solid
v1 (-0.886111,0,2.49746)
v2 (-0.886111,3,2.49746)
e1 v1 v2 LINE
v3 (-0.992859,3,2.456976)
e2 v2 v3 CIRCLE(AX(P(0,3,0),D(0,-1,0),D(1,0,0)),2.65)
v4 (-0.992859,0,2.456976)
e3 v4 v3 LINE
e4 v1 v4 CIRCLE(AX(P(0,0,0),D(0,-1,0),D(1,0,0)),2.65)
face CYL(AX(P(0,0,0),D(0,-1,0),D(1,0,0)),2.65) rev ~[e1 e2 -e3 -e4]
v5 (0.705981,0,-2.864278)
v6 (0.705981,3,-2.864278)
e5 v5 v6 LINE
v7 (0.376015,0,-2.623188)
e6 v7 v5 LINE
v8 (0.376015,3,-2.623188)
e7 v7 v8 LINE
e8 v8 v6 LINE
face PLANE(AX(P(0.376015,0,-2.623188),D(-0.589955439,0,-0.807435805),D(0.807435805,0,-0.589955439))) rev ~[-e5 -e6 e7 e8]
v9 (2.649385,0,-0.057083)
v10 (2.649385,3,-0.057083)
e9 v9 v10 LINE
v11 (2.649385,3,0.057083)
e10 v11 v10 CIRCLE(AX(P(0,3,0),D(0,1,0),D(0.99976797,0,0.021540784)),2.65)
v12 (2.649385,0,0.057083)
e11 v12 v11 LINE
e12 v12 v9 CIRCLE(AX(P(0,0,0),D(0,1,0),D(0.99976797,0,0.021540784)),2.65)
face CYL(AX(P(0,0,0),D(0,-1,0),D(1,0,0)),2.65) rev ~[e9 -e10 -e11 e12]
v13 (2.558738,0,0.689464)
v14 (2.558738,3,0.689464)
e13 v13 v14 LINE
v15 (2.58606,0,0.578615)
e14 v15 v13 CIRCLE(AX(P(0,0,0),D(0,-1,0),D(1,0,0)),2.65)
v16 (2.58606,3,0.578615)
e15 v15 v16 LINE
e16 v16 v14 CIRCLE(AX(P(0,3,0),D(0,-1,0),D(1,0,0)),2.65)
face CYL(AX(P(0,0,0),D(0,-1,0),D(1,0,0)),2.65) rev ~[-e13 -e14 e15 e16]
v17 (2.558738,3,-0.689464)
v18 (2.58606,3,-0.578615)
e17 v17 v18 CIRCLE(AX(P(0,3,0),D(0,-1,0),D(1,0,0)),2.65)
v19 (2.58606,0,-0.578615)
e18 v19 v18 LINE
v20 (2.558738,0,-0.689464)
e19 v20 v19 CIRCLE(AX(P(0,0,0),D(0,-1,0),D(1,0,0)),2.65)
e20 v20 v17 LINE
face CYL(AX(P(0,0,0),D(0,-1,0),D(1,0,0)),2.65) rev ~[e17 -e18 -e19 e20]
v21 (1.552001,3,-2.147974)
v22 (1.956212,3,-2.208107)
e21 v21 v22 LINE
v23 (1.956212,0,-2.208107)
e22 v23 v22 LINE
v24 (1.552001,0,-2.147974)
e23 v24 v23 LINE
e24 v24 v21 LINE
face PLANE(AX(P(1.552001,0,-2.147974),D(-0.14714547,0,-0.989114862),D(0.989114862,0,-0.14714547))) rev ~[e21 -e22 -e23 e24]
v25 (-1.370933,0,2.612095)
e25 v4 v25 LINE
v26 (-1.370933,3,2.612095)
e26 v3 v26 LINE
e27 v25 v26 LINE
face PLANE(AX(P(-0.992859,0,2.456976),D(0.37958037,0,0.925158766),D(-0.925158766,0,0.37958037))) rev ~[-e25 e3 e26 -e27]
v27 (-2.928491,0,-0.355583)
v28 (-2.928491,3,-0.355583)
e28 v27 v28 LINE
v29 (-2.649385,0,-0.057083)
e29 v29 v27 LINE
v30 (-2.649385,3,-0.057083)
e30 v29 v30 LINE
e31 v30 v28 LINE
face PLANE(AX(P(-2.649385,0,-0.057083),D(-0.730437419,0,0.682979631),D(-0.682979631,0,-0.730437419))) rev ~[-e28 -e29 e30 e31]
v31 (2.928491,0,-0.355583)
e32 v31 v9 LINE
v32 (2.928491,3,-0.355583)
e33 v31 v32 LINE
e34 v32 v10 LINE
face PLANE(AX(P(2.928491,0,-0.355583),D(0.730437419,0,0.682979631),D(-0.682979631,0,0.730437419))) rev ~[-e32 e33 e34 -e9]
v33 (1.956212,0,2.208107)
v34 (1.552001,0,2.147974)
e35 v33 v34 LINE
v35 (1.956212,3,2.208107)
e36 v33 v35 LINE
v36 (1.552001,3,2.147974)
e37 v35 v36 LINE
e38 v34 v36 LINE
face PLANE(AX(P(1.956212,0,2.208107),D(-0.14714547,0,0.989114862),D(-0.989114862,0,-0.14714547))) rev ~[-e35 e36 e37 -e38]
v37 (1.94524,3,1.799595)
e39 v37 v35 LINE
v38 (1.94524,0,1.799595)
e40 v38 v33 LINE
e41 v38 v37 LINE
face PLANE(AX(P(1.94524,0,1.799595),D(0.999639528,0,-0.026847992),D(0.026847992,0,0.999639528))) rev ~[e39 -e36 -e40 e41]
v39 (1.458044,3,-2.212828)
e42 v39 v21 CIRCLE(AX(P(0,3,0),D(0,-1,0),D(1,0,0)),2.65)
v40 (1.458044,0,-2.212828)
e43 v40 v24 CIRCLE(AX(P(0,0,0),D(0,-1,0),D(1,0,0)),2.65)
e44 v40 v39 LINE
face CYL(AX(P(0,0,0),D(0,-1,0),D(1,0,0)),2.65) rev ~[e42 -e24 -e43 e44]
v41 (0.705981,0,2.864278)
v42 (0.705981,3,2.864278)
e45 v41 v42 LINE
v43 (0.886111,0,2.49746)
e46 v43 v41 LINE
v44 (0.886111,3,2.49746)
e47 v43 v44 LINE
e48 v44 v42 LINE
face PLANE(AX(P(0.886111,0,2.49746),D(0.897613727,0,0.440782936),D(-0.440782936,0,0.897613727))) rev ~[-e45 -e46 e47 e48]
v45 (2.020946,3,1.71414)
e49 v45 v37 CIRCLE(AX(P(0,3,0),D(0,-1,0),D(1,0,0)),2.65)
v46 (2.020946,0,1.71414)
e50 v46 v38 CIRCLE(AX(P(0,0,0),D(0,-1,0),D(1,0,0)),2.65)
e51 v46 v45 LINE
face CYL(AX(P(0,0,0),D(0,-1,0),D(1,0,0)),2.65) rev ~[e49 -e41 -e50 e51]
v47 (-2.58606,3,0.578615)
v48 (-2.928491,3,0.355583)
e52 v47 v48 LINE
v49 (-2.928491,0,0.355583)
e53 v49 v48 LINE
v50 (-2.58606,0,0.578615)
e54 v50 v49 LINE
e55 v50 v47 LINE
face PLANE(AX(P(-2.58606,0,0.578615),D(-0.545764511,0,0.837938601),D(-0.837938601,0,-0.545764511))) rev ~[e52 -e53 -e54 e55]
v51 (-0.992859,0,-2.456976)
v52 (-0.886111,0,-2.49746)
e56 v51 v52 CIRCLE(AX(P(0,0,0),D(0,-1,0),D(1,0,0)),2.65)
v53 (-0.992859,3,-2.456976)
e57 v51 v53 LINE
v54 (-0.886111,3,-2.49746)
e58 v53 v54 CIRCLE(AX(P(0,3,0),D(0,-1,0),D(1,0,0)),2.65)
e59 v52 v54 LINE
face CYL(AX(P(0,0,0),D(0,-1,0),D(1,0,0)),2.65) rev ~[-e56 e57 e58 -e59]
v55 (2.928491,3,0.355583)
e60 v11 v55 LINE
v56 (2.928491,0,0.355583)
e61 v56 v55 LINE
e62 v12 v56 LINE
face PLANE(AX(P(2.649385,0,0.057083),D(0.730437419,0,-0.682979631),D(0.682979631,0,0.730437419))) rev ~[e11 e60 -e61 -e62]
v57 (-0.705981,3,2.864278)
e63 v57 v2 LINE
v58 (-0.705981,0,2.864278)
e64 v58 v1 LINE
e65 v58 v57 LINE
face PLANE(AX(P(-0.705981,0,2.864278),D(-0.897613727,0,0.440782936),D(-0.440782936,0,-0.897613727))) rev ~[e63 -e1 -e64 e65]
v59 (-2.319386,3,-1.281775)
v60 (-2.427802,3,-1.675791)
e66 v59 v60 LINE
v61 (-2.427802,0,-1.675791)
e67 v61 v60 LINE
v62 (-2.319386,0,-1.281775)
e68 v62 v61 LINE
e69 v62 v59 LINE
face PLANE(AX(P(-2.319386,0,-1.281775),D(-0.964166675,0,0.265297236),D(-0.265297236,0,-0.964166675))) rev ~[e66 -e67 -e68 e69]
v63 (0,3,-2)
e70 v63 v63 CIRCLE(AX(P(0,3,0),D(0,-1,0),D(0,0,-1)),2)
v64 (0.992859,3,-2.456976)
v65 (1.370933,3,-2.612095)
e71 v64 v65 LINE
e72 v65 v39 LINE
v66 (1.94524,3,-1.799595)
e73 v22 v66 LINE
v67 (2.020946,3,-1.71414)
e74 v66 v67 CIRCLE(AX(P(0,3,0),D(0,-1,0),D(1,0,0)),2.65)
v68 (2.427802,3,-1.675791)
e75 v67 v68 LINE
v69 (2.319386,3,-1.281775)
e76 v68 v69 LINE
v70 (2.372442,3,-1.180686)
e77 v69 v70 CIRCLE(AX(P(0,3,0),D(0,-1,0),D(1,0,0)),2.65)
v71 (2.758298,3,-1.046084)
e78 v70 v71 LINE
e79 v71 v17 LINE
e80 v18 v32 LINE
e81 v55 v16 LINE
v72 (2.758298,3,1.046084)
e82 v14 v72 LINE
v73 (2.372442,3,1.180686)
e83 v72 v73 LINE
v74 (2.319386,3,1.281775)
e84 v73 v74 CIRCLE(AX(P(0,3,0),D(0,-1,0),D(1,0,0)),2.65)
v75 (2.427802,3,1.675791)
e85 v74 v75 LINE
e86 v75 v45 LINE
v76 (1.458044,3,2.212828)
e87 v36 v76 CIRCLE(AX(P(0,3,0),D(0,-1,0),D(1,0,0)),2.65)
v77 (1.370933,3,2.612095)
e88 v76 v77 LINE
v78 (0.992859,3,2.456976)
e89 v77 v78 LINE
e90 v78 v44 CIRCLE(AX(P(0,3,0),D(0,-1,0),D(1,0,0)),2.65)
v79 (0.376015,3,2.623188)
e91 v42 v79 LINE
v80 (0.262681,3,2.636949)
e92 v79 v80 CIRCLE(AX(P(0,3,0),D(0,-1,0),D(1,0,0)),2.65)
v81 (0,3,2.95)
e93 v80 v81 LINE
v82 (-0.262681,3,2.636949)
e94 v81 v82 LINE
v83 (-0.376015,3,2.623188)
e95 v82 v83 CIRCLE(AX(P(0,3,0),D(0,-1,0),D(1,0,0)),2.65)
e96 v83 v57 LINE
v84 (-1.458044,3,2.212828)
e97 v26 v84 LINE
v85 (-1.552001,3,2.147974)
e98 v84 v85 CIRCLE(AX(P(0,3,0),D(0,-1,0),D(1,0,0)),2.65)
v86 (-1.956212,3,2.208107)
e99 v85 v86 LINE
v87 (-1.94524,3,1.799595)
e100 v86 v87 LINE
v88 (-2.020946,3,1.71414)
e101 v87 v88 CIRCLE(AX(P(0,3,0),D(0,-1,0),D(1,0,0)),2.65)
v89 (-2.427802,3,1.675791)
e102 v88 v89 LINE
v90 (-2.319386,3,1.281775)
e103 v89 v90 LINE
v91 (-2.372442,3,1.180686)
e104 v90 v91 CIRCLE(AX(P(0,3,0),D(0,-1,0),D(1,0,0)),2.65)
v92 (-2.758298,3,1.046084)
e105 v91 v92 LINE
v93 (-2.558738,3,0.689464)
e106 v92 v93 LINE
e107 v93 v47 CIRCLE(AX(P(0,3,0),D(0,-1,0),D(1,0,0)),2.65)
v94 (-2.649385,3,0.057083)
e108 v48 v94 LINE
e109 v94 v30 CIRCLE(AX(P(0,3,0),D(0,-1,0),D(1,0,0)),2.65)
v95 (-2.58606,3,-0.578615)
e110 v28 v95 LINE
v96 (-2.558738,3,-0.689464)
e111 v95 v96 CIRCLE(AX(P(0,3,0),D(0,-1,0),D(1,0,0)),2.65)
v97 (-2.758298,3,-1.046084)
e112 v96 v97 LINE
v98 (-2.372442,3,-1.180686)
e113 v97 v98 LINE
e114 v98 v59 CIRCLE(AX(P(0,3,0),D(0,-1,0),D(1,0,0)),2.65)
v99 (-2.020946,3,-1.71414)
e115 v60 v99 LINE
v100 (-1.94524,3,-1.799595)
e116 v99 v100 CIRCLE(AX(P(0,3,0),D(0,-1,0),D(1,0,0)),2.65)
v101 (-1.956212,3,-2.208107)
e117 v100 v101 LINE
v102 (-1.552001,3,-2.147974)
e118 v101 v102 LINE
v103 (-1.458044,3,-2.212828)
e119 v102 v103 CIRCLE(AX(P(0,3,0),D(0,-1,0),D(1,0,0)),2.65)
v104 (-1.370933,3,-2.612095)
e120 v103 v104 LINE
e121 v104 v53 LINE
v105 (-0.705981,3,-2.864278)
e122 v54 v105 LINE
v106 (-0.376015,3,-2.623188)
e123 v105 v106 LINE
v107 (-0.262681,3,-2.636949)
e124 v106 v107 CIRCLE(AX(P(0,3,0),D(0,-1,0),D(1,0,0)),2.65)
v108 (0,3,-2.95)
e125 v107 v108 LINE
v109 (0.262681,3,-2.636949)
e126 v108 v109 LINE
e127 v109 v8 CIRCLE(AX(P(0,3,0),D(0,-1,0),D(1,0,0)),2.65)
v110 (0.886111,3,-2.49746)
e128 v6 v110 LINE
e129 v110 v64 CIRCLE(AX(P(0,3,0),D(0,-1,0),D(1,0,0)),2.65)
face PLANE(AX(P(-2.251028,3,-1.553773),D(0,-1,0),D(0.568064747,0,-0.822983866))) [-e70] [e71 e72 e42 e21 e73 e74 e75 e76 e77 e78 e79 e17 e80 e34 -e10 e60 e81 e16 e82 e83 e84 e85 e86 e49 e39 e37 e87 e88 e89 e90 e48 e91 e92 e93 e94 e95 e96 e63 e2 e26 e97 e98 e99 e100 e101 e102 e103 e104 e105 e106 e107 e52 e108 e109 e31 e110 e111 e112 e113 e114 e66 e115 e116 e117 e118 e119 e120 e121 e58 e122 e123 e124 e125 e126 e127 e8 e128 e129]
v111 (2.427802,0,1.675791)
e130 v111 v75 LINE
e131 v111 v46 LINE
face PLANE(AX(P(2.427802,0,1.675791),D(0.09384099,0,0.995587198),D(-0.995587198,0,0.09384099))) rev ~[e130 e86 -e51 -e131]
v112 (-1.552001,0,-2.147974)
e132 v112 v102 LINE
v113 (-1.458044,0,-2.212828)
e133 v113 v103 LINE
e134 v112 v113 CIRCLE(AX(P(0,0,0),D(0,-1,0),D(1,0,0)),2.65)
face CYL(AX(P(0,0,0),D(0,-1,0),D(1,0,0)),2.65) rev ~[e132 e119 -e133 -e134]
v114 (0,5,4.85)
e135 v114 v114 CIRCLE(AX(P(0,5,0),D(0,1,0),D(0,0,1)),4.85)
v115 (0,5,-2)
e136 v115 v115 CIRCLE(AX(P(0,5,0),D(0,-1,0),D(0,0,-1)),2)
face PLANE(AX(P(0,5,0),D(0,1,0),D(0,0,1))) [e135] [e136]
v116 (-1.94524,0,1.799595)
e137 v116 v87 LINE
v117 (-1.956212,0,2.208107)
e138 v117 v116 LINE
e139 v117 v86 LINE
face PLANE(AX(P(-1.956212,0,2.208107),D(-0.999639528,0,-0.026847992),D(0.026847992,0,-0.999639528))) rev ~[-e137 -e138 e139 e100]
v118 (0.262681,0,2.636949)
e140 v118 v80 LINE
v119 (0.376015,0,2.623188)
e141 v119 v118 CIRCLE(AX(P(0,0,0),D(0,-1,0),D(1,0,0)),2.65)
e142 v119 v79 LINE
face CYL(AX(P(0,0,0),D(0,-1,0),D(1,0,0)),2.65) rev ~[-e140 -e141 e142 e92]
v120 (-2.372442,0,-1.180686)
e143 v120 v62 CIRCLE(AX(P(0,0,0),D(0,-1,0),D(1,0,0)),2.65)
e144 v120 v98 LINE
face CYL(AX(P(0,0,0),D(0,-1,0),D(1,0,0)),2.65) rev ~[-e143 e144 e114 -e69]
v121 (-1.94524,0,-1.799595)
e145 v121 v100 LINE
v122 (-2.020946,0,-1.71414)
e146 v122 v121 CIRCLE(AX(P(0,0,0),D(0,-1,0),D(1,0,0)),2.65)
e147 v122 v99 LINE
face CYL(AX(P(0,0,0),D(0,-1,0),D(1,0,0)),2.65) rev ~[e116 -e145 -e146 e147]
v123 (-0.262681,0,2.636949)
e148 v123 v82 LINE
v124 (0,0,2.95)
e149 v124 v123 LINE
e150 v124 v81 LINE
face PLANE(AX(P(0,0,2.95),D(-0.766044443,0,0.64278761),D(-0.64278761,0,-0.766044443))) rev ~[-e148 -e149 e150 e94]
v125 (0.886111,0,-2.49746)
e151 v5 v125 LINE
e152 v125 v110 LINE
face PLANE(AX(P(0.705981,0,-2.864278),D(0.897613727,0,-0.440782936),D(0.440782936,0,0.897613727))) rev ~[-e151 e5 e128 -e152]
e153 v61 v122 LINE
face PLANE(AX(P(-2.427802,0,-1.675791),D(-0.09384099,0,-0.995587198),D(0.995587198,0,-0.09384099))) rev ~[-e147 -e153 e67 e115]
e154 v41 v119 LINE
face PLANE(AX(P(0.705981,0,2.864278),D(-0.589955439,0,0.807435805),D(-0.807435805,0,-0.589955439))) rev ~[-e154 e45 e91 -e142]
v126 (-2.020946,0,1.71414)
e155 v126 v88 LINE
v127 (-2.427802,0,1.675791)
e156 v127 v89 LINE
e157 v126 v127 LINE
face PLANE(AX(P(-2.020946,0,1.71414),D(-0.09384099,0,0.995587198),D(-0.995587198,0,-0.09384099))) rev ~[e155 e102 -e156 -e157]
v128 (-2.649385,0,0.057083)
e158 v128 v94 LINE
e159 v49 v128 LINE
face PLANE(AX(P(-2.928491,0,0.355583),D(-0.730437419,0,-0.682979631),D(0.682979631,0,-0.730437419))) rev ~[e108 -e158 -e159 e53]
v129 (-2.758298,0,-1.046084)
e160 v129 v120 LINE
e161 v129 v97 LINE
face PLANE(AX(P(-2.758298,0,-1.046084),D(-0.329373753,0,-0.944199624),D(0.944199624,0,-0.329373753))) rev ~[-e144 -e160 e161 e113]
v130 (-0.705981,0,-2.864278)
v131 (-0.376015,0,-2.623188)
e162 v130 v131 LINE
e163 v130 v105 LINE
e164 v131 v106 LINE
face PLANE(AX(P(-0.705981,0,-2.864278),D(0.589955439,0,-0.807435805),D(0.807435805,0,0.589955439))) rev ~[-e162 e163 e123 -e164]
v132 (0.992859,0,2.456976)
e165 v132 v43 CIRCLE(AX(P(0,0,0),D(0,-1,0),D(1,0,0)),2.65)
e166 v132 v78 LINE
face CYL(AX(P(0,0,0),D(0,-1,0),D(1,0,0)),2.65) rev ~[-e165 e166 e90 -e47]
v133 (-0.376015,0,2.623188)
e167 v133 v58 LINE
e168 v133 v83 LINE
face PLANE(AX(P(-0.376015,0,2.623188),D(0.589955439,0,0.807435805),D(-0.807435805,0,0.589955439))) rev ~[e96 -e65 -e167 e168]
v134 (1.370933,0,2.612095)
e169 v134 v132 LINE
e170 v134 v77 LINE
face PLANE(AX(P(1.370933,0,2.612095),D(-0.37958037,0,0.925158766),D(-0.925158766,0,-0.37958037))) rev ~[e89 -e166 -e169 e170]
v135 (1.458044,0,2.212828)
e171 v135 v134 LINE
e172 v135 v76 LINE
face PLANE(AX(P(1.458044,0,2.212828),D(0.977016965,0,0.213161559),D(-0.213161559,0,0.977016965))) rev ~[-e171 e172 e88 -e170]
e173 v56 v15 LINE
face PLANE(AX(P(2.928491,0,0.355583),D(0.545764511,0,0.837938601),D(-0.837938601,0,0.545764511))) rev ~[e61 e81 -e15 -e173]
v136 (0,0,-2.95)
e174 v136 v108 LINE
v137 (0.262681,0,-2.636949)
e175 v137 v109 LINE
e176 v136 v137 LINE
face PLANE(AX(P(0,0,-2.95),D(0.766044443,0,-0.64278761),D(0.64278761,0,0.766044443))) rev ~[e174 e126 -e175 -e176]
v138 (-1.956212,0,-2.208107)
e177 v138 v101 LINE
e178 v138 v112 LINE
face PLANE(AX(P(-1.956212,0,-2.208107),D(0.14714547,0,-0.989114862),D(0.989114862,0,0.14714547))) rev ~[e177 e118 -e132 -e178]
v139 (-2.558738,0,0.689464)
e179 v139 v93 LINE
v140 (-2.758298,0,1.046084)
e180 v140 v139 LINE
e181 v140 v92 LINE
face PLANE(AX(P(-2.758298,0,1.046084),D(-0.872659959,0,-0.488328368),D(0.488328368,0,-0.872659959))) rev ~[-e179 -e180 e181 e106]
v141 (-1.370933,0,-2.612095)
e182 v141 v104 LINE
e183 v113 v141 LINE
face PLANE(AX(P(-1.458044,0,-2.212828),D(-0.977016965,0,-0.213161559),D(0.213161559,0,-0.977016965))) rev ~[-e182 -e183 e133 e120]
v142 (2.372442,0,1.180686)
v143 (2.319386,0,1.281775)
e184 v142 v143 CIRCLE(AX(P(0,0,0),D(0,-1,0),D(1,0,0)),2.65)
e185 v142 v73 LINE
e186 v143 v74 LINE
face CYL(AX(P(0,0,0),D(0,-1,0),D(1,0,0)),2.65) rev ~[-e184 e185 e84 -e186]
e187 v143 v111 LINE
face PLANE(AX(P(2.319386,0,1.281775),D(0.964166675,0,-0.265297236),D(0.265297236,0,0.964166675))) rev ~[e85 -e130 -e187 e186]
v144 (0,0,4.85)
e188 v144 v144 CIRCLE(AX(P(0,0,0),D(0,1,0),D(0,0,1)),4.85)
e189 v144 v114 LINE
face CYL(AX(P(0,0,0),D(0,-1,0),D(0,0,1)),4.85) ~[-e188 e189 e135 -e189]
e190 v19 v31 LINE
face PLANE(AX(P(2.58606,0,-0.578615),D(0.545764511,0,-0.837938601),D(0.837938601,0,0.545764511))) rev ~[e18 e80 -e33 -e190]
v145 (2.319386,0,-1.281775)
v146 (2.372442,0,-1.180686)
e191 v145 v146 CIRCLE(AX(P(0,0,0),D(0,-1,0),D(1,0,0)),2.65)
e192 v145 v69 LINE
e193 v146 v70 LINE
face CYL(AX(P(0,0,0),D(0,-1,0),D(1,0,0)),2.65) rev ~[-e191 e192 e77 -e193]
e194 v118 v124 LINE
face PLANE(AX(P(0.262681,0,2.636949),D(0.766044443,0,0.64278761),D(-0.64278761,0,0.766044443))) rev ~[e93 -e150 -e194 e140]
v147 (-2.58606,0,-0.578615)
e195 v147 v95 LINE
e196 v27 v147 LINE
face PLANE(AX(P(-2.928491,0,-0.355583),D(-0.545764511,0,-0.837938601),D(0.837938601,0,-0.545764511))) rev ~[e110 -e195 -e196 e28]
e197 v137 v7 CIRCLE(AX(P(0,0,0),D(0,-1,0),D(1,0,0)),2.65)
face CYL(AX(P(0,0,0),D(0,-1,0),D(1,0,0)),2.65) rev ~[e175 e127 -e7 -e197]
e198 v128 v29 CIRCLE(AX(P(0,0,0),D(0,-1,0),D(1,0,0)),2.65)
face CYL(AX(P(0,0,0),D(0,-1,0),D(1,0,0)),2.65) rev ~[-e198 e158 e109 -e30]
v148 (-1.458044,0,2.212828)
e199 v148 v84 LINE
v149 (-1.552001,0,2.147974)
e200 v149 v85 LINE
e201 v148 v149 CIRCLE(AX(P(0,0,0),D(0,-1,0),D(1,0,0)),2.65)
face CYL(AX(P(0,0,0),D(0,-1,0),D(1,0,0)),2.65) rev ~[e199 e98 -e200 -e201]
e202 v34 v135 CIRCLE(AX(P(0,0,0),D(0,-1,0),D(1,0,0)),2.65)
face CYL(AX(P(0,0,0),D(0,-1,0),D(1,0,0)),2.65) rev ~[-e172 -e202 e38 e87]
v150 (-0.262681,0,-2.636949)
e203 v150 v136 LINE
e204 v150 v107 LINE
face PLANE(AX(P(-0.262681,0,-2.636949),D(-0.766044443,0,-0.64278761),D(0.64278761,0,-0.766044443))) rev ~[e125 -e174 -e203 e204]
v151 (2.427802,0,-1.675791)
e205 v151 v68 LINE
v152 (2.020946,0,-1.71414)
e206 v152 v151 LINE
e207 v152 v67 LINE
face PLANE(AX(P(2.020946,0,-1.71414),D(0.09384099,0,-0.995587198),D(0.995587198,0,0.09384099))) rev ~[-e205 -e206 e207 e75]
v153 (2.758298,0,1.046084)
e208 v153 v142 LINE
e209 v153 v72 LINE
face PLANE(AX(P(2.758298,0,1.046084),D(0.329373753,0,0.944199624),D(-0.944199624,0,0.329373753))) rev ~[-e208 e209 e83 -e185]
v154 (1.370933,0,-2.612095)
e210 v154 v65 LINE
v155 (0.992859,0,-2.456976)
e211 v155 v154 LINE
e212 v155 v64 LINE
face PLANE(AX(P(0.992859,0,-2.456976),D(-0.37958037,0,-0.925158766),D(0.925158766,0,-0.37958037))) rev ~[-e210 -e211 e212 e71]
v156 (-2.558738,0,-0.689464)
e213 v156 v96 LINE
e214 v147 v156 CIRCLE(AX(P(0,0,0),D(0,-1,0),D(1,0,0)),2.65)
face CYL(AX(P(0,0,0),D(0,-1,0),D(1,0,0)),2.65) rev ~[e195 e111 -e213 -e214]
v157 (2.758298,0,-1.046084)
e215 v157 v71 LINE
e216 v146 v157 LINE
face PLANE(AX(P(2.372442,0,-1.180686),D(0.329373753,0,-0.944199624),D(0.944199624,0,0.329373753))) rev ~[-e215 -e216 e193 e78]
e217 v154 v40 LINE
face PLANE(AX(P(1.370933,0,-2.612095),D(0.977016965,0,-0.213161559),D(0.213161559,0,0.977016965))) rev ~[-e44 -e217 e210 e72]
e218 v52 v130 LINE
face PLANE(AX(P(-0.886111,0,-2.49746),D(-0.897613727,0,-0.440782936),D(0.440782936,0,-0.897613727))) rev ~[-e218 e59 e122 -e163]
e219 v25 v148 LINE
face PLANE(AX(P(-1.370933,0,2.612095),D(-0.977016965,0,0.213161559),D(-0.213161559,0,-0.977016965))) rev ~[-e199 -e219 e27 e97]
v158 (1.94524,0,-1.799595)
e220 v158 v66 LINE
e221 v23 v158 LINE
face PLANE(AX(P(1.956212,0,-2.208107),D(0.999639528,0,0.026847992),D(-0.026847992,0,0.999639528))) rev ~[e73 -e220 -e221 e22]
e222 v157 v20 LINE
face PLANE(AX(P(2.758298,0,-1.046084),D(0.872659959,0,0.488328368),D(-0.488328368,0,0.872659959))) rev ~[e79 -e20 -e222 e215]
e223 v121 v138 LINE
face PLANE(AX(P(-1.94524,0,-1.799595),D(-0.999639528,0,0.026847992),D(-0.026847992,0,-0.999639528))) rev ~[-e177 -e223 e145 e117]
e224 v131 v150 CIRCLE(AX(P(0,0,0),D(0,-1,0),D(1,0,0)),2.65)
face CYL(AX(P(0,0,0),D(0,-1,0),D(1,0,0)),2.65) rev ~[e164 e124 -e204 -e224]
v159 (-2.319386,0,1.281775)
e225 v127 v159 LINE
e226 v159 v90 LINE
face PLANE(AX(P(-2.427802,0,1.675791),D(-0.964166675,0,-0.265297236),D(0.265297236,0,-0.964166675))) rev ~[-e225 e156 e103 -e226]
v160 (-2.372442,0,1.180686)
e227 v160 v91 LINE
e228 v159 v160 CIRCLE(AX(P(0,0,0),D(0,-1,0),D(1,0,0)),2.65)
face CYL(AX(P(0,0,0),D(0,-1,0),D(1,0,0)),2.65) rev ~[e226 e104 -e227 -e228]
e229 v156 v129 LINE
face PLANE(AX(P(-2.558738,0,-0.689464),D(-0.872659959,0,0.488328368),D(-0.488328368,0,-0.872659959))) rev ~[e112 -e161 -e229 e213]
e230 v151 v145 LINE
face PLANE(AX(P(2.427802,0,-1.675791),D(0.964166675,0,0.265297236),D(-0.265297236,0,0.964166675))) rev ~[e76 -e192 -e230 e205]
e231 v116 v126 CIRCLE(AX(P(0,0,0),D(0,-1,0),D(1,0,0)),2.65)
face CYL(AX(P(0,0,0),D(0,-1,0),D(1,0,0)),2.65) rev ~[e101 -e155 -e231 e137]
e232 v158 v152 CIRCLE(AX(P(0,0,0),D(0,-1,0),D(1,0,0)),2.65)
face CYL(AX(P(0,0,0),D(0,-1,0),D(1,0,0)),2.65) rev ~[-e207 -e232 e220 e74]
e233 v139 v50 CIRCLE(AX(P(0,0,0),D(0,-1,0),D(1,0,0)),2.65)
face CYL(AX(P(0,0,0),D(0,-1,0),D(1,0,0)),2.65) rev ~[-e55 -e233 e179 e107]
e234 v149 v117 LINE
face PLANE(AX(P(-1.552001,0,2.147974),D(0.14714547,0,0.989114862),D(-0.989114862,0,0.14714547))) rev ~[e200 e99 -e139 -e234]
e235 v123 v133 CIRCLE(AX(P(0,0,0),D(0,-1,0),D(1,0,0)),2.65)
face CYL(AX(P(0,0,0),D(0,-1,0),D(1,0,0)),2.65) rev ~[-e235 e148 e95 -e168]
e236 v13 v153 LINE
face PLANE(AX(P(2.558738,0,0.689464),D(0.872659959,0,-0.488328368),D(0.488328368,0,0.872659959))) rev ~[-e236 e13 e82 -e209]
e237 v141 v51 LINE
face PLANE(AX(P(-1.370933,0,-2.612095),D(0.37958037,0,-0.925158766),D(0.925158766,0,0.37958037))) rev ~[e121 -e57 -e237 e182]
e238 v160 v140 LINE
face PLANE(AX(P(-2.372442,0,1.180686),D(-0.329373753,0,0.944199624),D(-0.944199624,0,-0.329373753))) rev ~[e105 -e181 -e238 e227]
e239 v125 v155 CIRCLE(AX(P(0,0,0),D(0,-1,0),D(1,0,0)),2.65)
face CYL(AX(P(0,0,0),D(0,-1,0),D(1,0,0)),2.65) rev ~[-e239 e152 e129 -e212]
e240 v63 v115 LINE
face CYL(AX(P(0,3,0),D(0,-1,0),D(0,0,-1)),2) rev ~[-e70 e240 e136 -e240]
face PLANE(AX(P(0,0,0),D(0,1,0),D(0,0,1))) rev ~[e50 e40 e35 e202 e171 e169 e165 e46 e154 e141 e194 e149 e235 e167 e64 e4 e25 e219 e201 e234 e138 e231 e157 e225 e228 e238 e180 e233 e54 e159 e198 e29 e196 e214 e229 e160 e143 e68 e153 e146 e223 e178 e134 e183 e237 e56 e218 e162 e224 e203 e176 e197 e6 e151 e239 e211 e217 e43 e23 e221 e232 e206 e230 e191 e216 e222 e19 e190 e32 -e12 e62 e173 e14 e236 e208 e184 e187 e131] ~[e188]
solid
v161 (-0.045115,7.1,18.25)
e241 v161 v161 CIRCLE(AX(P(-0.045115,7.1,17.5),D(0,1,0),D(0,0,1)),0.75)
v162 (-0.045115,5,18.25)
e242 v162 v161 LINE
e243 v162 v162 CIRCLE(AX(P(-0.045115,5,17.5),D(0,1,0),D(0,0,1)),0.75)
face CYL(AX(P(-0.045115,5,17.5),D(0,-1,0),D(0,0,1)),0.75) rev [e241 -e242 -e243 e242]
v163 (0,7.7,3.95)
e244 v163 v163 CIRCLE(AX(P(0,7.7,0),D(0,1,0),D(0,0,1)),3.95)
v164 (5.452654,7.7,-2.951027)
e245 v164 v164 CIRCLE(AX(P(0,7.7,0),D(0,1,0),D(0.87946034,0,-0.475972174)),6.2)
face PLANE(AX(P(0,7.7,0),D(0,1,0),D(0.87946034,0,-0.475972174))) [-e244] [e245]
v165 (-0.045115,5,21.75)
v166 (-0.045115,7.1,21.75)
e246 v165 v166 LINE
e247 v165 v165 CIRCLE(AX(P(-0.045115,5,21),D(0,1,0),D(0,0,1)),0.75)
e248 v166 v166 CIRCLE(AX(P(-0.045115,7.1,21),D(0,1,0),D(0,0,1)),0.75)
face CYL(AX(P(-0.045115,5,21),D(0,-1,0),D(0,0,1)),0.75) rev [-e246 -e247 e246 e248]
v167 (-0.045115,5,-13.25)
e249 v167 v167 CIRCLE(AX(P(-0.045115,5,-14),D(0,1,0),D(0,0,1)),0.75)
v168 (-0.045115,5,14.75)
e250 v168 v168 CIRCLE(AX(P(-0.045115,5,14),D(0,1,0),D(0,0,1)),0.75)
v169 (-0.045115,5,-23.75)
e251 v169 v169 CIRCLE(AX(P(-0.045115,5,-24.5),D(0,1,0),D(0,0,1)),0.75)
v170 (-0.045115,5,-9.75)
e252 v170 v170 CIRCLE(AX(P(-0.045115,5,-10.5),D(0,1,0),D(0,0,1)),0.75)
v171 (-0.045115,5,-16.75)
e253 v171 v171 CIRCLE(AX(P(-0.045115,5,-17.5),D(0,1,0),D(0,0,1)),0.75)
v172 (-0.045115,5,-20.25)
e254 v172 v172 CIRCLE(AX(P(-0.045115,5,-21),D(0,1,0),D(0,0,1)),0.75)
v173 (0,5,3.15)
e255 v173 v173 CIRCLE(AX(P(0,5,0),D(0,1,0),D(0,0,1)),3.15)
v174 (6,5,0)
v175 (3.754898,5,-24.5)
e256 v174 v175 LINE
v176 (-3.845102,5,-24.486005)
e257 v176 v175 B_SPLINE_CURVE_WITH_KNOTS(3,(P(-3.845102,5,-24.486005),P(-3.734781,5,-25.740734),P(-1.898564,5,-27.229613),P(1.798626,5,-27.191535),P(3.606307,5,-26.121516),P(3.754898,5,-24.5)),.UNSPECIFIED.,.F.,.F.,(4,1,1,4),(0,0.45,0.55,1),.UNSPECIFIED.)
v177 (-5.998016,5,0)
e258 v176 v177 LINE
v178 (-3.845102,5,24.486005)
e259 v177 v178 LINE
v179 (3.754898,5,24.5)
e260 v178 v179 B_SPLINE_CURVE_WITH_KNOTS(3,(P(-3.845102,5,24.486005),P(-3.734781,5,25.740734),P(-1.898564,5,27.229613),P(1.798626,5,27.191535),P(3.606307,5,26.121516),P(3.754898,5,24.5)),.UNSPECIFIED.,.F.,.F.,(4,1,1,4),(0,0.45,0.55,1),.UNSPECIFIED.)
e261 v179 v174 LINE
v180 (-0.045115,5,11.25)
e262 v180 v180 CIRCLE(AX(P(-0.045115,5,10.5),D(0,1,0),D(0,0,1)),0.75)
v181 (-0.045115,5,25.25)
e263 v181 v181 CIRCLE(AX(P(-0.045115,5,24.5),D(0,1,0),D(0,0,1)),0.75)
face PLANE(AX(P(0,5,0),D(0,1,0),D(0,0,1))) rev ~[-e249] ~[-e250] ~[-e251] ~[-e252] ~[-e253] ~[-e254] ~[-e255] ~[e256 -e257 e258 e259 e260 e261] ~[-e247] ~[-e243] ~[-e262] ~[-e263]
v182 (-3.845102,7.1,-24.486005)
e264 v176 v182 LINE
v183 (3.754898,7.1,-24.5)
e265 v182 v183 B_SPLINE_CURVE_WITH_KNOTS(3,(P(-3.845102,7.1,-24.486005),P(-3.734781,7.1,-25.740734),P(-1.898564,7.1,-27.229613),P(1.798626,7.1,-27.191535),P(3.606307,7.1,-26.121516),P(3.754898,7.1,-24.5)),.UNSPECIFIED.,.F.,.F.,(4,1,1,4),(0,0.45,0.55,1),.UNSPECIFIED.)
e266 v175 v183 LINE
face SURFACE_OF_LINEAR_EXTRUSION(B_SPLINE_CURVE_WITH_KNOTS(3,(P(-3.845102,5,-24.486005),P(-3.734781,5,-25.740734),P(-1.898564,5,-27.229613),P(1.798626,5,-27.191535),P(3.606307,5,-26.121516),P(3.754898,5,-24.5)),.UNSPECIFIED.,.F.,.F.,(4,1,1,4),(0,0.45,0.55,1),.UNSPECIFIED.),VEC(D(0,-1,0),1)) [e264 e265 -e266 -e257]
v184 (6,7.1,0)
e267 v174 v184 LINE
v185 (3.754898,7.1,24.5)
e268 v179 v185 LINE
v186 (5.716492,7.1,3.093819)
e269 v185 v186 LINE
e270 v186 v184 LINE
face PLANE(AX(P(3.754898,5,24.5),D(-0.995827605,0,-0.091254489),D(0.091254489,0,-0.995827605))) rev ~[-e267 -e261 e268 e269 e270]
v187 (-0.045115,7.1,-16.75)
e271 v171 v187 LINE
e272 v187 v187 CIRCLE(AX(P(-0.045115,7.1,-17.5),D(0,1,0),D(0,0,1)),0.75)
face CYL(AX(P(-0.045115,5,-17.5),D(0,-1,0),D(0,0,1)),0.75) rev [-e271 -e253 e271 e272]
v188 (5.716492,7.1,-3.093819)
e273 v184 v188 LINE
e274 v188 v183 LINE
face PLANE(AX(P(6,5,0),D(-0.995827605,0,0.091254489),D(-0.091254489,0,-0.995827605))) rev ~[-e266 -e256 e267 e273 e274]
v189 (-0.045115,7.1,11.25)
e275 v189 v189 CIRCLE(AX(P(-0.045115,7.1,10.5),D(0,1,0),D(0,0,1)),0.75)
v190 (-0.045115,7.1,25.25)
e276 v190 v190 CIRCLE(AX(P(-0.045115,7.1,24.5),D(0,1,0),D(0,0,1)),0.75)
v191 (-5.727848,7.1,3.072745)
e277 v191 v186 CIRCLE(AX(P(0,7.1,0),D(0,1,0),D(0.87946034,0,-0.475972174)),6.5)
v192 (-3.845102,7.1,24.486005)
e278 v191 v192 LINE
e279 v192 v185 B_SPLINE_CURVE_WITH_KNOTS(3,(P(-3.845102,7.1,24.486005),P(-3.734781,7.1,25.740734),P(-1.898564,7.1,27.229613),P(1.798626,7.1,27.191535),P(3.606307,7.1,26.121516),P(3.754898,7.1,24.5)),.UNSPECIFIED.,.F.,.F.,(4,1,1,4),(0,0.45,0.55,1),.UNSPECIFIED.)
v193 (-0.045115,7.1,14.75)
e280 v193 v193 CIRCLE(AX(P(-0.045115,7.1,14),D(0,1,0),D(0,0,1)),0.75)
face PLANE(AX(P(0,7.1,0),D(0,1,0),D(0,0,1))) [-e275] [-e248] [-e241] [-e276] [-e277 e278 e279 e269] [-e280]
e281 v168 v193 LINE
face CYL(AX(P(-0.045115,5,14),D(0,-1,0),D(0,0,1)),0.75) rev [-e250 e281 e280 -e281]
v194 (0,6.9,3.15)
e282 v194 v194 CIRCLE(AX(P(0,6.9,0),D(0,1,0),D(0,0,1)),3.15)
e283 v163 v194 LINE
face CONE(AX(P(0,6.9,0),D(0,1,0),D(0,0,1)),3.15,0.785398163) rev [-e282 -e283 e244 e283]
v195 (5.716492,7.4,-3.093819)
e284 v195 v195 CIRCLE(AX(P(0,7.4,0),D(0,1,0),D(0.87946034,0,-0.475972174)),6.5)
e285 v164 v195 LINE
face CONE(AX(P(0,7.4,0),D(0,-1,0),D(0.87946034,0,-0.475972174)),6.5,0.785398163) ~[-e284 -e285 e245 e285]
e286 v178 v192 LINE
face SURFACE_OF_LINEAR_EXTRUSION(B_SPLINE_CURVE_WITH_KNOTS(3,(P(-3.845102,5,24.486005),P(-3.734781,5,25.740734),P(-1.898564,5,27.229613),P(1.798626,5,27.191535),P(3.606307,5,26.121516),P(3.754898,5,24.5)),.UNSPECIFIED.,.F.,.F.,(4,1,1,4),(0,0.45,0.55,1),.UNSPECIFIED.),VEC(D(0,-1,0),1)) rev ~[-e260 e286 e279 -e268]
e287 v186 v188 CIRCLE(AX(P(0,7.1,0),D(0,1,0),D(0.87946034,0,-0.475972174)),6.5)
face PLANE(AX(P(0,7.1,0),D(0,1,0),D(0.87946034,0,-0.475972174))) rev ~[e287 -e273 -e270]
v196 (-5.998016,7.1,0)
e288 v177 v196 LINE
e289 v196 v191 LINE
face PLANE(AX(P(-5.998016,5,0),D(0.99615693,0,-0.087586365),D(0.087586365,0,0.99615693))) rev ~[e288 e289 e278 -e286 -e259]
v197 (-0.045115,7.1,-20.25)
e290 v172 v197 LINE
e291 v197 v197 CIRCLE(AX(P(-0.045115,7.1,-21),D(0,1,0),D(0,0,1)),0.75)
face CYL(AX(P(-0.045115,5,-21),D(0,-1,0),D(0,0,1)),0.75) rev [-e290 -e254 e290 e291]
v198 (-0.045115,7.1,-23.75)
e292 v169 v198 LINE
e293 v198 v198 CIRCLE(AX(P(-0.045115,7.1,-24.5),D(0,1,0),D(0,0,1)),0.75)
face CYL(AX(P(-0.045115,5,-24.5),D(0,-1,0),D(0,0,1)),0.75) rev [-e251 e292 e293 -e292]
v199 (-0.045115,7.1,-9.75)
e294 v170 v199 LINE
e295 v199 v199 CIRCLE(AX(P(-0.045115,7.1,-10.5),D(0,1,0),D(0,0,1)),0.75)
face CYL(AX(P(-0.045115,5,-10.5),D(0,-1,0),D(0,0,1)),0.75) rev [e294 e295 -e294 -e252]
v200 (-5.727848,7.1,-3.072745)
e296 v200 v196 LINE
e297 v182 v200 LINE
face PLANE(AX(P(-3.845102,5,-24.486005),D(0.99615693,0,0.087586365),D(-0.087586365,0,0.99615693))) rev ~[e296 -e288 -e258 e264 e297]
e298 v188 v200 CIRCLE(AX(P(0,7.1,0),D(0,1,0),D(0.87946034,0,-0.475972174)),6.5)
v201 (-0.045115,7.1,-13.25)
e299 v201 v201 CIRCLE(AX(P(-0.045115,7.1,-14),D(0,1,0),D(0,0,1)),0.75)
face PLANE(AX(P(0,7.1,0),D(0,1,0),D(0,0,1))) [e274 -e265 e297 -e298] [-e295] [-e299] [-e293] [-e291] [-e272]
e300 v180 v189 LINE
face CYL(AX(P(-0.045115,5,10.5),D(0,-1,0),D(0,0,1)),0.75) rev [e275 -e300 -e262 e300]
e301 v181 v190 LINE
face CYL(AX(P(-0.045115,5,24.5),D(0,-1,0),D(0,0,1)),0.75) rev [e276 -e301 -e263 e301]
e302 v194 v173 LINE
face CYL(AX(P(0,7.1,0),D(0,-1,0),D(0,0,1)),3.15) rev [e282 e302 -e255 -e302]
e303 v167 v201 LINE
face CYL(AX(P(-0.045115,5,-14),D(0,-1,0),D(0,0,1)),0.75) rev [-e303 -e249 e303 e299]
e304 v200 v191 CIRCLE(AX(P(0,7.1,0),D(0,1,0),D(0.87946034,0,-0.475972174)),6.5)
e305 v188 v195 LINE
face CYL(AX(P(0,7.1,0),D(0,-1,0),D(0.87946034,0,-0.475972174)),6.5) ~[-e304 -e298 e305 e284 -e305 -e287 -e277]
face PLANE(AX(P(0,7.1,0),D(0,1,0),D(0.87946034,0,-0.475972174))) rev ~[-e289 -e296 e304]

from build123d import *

# Parameters (mm, degrees)
SKETCH1_R           = 4.85
BASE_DEPTH          = 5
SKETCH2_R           = 0.75
SKETCH2_R_2         = 4.85
SKETCH2_R_3         = 3.15
BOSS_EXTRUDE2_DEPTH = 2.1
SKETCH3_R           = 6.5
SKETCH3_R_2         = 3.15
BOSS_EXTRUDE3_DEPTH = 0.6
CHAMFER1_SIZE       = 0.8
CHAMFER2_SIZE       = 0.3
CUT_EXTRUDE1_DEPTH  = 3
CIRPATTERN1_COUNT   = 26
SKETCH5_R           = 2.65
CUT_EXTRUDE2_DEPTH  = 3
SKETCH6_R           = 2
CUT_EXTRUDE3_DEPTH  = 3


with BuildPart() as part:
    # Sketch1 → Base (new body)
    with BuildSketch(Plane(origin=(0, 0, 0), x_dir=(1, 0, 0), z_dir=(0, 1, 0))):
        with Locations(Location((0, 0, 0), (0, 0, 270))):
            Circle(SKETCH1_R)
    extrude(amount=BASE_DEPTH)

    # Sketch4 → Cut-Extrude1 (cut)
    with BuildSketch(Plane.XZ):
        with BuildLine():
            Line((-0.262681209, -2.636948726), (0, -2.95))
            Line((0, -2.95), (0.262681209, -2.636948726))
            ThreePointArc((0.262681209, -2.636948726), (0, -2.65), (-0.262681209, -2.636948726))
        make_face()
    cut_extrude1 = extrude(amount=-CUT_EXTRUDE1_DEPTH, mode=Mode.SUBTRACT)

    # CirPattern1: Cut-Extrude1 ×26 about axis
    cirpattern1_axis = Axis((0, 0, 0), (0, 1, 0))
    for i in range(1, CIRPATTERN1_COUNT):
        add(cut_extrude1.rotate(cirpattern1_axis, i * 360 / CIRPATTERN1_COUNT), mode=Mode.SUBTRACT)

    # Sketch5 → Cut-Extrude2 (cut)
    with BuildSketch(Plane.XZ):
        Circle(SKETCH5_R)
    extrude(amount=-CUT_EXTRUDE2_DEPTH, mode=Mode.SUBTRACT)

    # Sketch6 → Cut-Extrude3 (cut)
    with BuildSketch(Plane.XZ.offset(-3)):
        with Locations(Location((0, 0, 0), (0, 0, 270))):
            Circle(SKETCH6_R)
    extrude(amount=-CUT_EXTRUDE3_DEPTH, mode=Mode.SUBTRACT)


with BuildPart() as body_2:
    # Sketch2 → Boss-Extrude2 (new body)
    # profile 1 of 2: a face of its own
    with BuildSketch(Plane(origin=(0, 5, 0), x_dir=(1, 0, 0), z_dir=(0, 1, 0))):
        with BuildLine():
            Line((3.754897555, -24.5), (6, 0))
            Line((6, 0), (3.754897555, 24.5))
            add(Edge.make_bspline(
                [(-3.845102445, 24.48600504), (-3.734781319, 25.740734056), (-1.898564179, 27.229613074), (1.798625564, 27.191534839), (3.606306924, 26.121516409), (3.754897555, 24.5)],
                knots=[0, 0, 0, 0, 0.45, 0.55, 1, 1, 1, 1], degree=3))
            Line((-3.845102445, 24.48600504), (-5.998016427, 0))
            Line((-5.998016427, 0), (-3.845102445, -24.48600504))
            add(Edge.make_bspline(
                [(-3.845102445, -24.48600504), (-3.734781319, -25.740734056), (-1.898564179, -27.229613074), (1.798625564, -27.191534839), (3.606306924, -26.121516409), (3.754897555, -24.5)],
                knots=[0, 0, 0, 0, 0.45, 0.55, 1, 1, 1, 1], degree=3))
        make_face()
        with Locations(Location((-0.04511533, -24.5, 0), (0, 0, 270))):
            Circle(SKETCH2_R, mode=Mode.SUBTRACT)
        with Locations(Location((-0.04511533, -21, 0), (0, 0, 270))):
            Circle(SKETCH2_R, mode=Mode.SUBTRACT)
        with Locations(Location((-0.04511533, -17.5, 0), (0, 0, 270))):
            Circle(SKETCH2_R, mode=Mode.SUBTRACT)
        with Locations(Location((-0.04511533, -14, 0), (0, 0, 270))):
            Circle(SKETCH2_R, mode=Mode.SUBTRACT)
        with Locations(Location((-0.04511533, -10.5, 0), (0, 0, 270))):
            Circle(SKETCH2_R, mode=Mode.SUBTRACT)
        with Locations(Location((0, 0, 0), (0, 0, 270))):
            Circle(SKETCH2_R_2, mode=Mode.SUBTRACT)
        with Locations(Location((-0.04511533, 10.5, 0), (0, 0, 270))):
            Circle(SKETCH2_R, mode=Mode.SUBTRACT)
        with Locations(Location((-0.04511533, 14, 0), (0, 0, 270))):
            Circle(SKETCH2_R, mode=Mode.SUBTRACT)
        with Locations(Location((-0.04511533, 17.5, 0), (0, 0, 270))):
            Circle(SKETCH2_R, mode=Mode.SUBTRACT)
        with Locations(Location((-0.04511533, 21, 0), (0, 0, 270))):
            Circle(SKETCH2_R, mode=Mode.SUBTRACT)
        with Locations(Location((-0.04511533, 24.5, 0), (0, 0, 270))):
            Circle(SKETCH2_R, mode=Mode.SUBTRACT)
    # profile 2 of 2: a face of its own
    with BuildSketch(Plane(origin=(0, 5, 0), x_dir=(1, 0, 0), z_dir=(0, 1, 0))):
        with Locations(Location((0, 0, 0), (0, 0, 270))):
            Circle(SKETCH2_R_2)
        with Locations(Location((0, 0, 0), (0, 0, 270))):
            Circle(SKETCH2_R_3, mode=Mode.SUBTRACT)
    extrude(amount=BOSS_EXTRUDE2_DEPTH)

    # Sketch3 → Boss-Extrude3 (add)
    with BuildSketch(Plane(origin=(0, 7.1, 0), x_dir=(1, 0, 0), z_dir=(0, 1, 0))):
        with Locations(Location((0, 0, 0), (0, 0, 28.422667101))):
            Circle(SKETCH3_R)
        with Locations(Location((0, 0, 0), (0, 0, 270))):
            Circle(SKETCH3_R_2, mode=Mode.SUBTRACT)
    extrude(amount=BOSS_EXTRUDE3_DEPTH)

    # Chamfer1
    chamfer1_edges = [body_2.edges().sort_by_distance(p)[0] for p in [
        (0, 7.7, -3.15),
    ]]
    chamfer(chamfer1_edges, length=CHAMFER1_SIZE)

    # Chamfer2
    chamfer2_edges = [body_2.edges().sort_by_distance(p)[0] for p in [
        (-5.716492208, 7.7, 3.093819134),
    ]]
    chamfer(chamfer2_edges, length=CHAMFER2_SIZE)


solid = Compound([part.part, body_2.part])
